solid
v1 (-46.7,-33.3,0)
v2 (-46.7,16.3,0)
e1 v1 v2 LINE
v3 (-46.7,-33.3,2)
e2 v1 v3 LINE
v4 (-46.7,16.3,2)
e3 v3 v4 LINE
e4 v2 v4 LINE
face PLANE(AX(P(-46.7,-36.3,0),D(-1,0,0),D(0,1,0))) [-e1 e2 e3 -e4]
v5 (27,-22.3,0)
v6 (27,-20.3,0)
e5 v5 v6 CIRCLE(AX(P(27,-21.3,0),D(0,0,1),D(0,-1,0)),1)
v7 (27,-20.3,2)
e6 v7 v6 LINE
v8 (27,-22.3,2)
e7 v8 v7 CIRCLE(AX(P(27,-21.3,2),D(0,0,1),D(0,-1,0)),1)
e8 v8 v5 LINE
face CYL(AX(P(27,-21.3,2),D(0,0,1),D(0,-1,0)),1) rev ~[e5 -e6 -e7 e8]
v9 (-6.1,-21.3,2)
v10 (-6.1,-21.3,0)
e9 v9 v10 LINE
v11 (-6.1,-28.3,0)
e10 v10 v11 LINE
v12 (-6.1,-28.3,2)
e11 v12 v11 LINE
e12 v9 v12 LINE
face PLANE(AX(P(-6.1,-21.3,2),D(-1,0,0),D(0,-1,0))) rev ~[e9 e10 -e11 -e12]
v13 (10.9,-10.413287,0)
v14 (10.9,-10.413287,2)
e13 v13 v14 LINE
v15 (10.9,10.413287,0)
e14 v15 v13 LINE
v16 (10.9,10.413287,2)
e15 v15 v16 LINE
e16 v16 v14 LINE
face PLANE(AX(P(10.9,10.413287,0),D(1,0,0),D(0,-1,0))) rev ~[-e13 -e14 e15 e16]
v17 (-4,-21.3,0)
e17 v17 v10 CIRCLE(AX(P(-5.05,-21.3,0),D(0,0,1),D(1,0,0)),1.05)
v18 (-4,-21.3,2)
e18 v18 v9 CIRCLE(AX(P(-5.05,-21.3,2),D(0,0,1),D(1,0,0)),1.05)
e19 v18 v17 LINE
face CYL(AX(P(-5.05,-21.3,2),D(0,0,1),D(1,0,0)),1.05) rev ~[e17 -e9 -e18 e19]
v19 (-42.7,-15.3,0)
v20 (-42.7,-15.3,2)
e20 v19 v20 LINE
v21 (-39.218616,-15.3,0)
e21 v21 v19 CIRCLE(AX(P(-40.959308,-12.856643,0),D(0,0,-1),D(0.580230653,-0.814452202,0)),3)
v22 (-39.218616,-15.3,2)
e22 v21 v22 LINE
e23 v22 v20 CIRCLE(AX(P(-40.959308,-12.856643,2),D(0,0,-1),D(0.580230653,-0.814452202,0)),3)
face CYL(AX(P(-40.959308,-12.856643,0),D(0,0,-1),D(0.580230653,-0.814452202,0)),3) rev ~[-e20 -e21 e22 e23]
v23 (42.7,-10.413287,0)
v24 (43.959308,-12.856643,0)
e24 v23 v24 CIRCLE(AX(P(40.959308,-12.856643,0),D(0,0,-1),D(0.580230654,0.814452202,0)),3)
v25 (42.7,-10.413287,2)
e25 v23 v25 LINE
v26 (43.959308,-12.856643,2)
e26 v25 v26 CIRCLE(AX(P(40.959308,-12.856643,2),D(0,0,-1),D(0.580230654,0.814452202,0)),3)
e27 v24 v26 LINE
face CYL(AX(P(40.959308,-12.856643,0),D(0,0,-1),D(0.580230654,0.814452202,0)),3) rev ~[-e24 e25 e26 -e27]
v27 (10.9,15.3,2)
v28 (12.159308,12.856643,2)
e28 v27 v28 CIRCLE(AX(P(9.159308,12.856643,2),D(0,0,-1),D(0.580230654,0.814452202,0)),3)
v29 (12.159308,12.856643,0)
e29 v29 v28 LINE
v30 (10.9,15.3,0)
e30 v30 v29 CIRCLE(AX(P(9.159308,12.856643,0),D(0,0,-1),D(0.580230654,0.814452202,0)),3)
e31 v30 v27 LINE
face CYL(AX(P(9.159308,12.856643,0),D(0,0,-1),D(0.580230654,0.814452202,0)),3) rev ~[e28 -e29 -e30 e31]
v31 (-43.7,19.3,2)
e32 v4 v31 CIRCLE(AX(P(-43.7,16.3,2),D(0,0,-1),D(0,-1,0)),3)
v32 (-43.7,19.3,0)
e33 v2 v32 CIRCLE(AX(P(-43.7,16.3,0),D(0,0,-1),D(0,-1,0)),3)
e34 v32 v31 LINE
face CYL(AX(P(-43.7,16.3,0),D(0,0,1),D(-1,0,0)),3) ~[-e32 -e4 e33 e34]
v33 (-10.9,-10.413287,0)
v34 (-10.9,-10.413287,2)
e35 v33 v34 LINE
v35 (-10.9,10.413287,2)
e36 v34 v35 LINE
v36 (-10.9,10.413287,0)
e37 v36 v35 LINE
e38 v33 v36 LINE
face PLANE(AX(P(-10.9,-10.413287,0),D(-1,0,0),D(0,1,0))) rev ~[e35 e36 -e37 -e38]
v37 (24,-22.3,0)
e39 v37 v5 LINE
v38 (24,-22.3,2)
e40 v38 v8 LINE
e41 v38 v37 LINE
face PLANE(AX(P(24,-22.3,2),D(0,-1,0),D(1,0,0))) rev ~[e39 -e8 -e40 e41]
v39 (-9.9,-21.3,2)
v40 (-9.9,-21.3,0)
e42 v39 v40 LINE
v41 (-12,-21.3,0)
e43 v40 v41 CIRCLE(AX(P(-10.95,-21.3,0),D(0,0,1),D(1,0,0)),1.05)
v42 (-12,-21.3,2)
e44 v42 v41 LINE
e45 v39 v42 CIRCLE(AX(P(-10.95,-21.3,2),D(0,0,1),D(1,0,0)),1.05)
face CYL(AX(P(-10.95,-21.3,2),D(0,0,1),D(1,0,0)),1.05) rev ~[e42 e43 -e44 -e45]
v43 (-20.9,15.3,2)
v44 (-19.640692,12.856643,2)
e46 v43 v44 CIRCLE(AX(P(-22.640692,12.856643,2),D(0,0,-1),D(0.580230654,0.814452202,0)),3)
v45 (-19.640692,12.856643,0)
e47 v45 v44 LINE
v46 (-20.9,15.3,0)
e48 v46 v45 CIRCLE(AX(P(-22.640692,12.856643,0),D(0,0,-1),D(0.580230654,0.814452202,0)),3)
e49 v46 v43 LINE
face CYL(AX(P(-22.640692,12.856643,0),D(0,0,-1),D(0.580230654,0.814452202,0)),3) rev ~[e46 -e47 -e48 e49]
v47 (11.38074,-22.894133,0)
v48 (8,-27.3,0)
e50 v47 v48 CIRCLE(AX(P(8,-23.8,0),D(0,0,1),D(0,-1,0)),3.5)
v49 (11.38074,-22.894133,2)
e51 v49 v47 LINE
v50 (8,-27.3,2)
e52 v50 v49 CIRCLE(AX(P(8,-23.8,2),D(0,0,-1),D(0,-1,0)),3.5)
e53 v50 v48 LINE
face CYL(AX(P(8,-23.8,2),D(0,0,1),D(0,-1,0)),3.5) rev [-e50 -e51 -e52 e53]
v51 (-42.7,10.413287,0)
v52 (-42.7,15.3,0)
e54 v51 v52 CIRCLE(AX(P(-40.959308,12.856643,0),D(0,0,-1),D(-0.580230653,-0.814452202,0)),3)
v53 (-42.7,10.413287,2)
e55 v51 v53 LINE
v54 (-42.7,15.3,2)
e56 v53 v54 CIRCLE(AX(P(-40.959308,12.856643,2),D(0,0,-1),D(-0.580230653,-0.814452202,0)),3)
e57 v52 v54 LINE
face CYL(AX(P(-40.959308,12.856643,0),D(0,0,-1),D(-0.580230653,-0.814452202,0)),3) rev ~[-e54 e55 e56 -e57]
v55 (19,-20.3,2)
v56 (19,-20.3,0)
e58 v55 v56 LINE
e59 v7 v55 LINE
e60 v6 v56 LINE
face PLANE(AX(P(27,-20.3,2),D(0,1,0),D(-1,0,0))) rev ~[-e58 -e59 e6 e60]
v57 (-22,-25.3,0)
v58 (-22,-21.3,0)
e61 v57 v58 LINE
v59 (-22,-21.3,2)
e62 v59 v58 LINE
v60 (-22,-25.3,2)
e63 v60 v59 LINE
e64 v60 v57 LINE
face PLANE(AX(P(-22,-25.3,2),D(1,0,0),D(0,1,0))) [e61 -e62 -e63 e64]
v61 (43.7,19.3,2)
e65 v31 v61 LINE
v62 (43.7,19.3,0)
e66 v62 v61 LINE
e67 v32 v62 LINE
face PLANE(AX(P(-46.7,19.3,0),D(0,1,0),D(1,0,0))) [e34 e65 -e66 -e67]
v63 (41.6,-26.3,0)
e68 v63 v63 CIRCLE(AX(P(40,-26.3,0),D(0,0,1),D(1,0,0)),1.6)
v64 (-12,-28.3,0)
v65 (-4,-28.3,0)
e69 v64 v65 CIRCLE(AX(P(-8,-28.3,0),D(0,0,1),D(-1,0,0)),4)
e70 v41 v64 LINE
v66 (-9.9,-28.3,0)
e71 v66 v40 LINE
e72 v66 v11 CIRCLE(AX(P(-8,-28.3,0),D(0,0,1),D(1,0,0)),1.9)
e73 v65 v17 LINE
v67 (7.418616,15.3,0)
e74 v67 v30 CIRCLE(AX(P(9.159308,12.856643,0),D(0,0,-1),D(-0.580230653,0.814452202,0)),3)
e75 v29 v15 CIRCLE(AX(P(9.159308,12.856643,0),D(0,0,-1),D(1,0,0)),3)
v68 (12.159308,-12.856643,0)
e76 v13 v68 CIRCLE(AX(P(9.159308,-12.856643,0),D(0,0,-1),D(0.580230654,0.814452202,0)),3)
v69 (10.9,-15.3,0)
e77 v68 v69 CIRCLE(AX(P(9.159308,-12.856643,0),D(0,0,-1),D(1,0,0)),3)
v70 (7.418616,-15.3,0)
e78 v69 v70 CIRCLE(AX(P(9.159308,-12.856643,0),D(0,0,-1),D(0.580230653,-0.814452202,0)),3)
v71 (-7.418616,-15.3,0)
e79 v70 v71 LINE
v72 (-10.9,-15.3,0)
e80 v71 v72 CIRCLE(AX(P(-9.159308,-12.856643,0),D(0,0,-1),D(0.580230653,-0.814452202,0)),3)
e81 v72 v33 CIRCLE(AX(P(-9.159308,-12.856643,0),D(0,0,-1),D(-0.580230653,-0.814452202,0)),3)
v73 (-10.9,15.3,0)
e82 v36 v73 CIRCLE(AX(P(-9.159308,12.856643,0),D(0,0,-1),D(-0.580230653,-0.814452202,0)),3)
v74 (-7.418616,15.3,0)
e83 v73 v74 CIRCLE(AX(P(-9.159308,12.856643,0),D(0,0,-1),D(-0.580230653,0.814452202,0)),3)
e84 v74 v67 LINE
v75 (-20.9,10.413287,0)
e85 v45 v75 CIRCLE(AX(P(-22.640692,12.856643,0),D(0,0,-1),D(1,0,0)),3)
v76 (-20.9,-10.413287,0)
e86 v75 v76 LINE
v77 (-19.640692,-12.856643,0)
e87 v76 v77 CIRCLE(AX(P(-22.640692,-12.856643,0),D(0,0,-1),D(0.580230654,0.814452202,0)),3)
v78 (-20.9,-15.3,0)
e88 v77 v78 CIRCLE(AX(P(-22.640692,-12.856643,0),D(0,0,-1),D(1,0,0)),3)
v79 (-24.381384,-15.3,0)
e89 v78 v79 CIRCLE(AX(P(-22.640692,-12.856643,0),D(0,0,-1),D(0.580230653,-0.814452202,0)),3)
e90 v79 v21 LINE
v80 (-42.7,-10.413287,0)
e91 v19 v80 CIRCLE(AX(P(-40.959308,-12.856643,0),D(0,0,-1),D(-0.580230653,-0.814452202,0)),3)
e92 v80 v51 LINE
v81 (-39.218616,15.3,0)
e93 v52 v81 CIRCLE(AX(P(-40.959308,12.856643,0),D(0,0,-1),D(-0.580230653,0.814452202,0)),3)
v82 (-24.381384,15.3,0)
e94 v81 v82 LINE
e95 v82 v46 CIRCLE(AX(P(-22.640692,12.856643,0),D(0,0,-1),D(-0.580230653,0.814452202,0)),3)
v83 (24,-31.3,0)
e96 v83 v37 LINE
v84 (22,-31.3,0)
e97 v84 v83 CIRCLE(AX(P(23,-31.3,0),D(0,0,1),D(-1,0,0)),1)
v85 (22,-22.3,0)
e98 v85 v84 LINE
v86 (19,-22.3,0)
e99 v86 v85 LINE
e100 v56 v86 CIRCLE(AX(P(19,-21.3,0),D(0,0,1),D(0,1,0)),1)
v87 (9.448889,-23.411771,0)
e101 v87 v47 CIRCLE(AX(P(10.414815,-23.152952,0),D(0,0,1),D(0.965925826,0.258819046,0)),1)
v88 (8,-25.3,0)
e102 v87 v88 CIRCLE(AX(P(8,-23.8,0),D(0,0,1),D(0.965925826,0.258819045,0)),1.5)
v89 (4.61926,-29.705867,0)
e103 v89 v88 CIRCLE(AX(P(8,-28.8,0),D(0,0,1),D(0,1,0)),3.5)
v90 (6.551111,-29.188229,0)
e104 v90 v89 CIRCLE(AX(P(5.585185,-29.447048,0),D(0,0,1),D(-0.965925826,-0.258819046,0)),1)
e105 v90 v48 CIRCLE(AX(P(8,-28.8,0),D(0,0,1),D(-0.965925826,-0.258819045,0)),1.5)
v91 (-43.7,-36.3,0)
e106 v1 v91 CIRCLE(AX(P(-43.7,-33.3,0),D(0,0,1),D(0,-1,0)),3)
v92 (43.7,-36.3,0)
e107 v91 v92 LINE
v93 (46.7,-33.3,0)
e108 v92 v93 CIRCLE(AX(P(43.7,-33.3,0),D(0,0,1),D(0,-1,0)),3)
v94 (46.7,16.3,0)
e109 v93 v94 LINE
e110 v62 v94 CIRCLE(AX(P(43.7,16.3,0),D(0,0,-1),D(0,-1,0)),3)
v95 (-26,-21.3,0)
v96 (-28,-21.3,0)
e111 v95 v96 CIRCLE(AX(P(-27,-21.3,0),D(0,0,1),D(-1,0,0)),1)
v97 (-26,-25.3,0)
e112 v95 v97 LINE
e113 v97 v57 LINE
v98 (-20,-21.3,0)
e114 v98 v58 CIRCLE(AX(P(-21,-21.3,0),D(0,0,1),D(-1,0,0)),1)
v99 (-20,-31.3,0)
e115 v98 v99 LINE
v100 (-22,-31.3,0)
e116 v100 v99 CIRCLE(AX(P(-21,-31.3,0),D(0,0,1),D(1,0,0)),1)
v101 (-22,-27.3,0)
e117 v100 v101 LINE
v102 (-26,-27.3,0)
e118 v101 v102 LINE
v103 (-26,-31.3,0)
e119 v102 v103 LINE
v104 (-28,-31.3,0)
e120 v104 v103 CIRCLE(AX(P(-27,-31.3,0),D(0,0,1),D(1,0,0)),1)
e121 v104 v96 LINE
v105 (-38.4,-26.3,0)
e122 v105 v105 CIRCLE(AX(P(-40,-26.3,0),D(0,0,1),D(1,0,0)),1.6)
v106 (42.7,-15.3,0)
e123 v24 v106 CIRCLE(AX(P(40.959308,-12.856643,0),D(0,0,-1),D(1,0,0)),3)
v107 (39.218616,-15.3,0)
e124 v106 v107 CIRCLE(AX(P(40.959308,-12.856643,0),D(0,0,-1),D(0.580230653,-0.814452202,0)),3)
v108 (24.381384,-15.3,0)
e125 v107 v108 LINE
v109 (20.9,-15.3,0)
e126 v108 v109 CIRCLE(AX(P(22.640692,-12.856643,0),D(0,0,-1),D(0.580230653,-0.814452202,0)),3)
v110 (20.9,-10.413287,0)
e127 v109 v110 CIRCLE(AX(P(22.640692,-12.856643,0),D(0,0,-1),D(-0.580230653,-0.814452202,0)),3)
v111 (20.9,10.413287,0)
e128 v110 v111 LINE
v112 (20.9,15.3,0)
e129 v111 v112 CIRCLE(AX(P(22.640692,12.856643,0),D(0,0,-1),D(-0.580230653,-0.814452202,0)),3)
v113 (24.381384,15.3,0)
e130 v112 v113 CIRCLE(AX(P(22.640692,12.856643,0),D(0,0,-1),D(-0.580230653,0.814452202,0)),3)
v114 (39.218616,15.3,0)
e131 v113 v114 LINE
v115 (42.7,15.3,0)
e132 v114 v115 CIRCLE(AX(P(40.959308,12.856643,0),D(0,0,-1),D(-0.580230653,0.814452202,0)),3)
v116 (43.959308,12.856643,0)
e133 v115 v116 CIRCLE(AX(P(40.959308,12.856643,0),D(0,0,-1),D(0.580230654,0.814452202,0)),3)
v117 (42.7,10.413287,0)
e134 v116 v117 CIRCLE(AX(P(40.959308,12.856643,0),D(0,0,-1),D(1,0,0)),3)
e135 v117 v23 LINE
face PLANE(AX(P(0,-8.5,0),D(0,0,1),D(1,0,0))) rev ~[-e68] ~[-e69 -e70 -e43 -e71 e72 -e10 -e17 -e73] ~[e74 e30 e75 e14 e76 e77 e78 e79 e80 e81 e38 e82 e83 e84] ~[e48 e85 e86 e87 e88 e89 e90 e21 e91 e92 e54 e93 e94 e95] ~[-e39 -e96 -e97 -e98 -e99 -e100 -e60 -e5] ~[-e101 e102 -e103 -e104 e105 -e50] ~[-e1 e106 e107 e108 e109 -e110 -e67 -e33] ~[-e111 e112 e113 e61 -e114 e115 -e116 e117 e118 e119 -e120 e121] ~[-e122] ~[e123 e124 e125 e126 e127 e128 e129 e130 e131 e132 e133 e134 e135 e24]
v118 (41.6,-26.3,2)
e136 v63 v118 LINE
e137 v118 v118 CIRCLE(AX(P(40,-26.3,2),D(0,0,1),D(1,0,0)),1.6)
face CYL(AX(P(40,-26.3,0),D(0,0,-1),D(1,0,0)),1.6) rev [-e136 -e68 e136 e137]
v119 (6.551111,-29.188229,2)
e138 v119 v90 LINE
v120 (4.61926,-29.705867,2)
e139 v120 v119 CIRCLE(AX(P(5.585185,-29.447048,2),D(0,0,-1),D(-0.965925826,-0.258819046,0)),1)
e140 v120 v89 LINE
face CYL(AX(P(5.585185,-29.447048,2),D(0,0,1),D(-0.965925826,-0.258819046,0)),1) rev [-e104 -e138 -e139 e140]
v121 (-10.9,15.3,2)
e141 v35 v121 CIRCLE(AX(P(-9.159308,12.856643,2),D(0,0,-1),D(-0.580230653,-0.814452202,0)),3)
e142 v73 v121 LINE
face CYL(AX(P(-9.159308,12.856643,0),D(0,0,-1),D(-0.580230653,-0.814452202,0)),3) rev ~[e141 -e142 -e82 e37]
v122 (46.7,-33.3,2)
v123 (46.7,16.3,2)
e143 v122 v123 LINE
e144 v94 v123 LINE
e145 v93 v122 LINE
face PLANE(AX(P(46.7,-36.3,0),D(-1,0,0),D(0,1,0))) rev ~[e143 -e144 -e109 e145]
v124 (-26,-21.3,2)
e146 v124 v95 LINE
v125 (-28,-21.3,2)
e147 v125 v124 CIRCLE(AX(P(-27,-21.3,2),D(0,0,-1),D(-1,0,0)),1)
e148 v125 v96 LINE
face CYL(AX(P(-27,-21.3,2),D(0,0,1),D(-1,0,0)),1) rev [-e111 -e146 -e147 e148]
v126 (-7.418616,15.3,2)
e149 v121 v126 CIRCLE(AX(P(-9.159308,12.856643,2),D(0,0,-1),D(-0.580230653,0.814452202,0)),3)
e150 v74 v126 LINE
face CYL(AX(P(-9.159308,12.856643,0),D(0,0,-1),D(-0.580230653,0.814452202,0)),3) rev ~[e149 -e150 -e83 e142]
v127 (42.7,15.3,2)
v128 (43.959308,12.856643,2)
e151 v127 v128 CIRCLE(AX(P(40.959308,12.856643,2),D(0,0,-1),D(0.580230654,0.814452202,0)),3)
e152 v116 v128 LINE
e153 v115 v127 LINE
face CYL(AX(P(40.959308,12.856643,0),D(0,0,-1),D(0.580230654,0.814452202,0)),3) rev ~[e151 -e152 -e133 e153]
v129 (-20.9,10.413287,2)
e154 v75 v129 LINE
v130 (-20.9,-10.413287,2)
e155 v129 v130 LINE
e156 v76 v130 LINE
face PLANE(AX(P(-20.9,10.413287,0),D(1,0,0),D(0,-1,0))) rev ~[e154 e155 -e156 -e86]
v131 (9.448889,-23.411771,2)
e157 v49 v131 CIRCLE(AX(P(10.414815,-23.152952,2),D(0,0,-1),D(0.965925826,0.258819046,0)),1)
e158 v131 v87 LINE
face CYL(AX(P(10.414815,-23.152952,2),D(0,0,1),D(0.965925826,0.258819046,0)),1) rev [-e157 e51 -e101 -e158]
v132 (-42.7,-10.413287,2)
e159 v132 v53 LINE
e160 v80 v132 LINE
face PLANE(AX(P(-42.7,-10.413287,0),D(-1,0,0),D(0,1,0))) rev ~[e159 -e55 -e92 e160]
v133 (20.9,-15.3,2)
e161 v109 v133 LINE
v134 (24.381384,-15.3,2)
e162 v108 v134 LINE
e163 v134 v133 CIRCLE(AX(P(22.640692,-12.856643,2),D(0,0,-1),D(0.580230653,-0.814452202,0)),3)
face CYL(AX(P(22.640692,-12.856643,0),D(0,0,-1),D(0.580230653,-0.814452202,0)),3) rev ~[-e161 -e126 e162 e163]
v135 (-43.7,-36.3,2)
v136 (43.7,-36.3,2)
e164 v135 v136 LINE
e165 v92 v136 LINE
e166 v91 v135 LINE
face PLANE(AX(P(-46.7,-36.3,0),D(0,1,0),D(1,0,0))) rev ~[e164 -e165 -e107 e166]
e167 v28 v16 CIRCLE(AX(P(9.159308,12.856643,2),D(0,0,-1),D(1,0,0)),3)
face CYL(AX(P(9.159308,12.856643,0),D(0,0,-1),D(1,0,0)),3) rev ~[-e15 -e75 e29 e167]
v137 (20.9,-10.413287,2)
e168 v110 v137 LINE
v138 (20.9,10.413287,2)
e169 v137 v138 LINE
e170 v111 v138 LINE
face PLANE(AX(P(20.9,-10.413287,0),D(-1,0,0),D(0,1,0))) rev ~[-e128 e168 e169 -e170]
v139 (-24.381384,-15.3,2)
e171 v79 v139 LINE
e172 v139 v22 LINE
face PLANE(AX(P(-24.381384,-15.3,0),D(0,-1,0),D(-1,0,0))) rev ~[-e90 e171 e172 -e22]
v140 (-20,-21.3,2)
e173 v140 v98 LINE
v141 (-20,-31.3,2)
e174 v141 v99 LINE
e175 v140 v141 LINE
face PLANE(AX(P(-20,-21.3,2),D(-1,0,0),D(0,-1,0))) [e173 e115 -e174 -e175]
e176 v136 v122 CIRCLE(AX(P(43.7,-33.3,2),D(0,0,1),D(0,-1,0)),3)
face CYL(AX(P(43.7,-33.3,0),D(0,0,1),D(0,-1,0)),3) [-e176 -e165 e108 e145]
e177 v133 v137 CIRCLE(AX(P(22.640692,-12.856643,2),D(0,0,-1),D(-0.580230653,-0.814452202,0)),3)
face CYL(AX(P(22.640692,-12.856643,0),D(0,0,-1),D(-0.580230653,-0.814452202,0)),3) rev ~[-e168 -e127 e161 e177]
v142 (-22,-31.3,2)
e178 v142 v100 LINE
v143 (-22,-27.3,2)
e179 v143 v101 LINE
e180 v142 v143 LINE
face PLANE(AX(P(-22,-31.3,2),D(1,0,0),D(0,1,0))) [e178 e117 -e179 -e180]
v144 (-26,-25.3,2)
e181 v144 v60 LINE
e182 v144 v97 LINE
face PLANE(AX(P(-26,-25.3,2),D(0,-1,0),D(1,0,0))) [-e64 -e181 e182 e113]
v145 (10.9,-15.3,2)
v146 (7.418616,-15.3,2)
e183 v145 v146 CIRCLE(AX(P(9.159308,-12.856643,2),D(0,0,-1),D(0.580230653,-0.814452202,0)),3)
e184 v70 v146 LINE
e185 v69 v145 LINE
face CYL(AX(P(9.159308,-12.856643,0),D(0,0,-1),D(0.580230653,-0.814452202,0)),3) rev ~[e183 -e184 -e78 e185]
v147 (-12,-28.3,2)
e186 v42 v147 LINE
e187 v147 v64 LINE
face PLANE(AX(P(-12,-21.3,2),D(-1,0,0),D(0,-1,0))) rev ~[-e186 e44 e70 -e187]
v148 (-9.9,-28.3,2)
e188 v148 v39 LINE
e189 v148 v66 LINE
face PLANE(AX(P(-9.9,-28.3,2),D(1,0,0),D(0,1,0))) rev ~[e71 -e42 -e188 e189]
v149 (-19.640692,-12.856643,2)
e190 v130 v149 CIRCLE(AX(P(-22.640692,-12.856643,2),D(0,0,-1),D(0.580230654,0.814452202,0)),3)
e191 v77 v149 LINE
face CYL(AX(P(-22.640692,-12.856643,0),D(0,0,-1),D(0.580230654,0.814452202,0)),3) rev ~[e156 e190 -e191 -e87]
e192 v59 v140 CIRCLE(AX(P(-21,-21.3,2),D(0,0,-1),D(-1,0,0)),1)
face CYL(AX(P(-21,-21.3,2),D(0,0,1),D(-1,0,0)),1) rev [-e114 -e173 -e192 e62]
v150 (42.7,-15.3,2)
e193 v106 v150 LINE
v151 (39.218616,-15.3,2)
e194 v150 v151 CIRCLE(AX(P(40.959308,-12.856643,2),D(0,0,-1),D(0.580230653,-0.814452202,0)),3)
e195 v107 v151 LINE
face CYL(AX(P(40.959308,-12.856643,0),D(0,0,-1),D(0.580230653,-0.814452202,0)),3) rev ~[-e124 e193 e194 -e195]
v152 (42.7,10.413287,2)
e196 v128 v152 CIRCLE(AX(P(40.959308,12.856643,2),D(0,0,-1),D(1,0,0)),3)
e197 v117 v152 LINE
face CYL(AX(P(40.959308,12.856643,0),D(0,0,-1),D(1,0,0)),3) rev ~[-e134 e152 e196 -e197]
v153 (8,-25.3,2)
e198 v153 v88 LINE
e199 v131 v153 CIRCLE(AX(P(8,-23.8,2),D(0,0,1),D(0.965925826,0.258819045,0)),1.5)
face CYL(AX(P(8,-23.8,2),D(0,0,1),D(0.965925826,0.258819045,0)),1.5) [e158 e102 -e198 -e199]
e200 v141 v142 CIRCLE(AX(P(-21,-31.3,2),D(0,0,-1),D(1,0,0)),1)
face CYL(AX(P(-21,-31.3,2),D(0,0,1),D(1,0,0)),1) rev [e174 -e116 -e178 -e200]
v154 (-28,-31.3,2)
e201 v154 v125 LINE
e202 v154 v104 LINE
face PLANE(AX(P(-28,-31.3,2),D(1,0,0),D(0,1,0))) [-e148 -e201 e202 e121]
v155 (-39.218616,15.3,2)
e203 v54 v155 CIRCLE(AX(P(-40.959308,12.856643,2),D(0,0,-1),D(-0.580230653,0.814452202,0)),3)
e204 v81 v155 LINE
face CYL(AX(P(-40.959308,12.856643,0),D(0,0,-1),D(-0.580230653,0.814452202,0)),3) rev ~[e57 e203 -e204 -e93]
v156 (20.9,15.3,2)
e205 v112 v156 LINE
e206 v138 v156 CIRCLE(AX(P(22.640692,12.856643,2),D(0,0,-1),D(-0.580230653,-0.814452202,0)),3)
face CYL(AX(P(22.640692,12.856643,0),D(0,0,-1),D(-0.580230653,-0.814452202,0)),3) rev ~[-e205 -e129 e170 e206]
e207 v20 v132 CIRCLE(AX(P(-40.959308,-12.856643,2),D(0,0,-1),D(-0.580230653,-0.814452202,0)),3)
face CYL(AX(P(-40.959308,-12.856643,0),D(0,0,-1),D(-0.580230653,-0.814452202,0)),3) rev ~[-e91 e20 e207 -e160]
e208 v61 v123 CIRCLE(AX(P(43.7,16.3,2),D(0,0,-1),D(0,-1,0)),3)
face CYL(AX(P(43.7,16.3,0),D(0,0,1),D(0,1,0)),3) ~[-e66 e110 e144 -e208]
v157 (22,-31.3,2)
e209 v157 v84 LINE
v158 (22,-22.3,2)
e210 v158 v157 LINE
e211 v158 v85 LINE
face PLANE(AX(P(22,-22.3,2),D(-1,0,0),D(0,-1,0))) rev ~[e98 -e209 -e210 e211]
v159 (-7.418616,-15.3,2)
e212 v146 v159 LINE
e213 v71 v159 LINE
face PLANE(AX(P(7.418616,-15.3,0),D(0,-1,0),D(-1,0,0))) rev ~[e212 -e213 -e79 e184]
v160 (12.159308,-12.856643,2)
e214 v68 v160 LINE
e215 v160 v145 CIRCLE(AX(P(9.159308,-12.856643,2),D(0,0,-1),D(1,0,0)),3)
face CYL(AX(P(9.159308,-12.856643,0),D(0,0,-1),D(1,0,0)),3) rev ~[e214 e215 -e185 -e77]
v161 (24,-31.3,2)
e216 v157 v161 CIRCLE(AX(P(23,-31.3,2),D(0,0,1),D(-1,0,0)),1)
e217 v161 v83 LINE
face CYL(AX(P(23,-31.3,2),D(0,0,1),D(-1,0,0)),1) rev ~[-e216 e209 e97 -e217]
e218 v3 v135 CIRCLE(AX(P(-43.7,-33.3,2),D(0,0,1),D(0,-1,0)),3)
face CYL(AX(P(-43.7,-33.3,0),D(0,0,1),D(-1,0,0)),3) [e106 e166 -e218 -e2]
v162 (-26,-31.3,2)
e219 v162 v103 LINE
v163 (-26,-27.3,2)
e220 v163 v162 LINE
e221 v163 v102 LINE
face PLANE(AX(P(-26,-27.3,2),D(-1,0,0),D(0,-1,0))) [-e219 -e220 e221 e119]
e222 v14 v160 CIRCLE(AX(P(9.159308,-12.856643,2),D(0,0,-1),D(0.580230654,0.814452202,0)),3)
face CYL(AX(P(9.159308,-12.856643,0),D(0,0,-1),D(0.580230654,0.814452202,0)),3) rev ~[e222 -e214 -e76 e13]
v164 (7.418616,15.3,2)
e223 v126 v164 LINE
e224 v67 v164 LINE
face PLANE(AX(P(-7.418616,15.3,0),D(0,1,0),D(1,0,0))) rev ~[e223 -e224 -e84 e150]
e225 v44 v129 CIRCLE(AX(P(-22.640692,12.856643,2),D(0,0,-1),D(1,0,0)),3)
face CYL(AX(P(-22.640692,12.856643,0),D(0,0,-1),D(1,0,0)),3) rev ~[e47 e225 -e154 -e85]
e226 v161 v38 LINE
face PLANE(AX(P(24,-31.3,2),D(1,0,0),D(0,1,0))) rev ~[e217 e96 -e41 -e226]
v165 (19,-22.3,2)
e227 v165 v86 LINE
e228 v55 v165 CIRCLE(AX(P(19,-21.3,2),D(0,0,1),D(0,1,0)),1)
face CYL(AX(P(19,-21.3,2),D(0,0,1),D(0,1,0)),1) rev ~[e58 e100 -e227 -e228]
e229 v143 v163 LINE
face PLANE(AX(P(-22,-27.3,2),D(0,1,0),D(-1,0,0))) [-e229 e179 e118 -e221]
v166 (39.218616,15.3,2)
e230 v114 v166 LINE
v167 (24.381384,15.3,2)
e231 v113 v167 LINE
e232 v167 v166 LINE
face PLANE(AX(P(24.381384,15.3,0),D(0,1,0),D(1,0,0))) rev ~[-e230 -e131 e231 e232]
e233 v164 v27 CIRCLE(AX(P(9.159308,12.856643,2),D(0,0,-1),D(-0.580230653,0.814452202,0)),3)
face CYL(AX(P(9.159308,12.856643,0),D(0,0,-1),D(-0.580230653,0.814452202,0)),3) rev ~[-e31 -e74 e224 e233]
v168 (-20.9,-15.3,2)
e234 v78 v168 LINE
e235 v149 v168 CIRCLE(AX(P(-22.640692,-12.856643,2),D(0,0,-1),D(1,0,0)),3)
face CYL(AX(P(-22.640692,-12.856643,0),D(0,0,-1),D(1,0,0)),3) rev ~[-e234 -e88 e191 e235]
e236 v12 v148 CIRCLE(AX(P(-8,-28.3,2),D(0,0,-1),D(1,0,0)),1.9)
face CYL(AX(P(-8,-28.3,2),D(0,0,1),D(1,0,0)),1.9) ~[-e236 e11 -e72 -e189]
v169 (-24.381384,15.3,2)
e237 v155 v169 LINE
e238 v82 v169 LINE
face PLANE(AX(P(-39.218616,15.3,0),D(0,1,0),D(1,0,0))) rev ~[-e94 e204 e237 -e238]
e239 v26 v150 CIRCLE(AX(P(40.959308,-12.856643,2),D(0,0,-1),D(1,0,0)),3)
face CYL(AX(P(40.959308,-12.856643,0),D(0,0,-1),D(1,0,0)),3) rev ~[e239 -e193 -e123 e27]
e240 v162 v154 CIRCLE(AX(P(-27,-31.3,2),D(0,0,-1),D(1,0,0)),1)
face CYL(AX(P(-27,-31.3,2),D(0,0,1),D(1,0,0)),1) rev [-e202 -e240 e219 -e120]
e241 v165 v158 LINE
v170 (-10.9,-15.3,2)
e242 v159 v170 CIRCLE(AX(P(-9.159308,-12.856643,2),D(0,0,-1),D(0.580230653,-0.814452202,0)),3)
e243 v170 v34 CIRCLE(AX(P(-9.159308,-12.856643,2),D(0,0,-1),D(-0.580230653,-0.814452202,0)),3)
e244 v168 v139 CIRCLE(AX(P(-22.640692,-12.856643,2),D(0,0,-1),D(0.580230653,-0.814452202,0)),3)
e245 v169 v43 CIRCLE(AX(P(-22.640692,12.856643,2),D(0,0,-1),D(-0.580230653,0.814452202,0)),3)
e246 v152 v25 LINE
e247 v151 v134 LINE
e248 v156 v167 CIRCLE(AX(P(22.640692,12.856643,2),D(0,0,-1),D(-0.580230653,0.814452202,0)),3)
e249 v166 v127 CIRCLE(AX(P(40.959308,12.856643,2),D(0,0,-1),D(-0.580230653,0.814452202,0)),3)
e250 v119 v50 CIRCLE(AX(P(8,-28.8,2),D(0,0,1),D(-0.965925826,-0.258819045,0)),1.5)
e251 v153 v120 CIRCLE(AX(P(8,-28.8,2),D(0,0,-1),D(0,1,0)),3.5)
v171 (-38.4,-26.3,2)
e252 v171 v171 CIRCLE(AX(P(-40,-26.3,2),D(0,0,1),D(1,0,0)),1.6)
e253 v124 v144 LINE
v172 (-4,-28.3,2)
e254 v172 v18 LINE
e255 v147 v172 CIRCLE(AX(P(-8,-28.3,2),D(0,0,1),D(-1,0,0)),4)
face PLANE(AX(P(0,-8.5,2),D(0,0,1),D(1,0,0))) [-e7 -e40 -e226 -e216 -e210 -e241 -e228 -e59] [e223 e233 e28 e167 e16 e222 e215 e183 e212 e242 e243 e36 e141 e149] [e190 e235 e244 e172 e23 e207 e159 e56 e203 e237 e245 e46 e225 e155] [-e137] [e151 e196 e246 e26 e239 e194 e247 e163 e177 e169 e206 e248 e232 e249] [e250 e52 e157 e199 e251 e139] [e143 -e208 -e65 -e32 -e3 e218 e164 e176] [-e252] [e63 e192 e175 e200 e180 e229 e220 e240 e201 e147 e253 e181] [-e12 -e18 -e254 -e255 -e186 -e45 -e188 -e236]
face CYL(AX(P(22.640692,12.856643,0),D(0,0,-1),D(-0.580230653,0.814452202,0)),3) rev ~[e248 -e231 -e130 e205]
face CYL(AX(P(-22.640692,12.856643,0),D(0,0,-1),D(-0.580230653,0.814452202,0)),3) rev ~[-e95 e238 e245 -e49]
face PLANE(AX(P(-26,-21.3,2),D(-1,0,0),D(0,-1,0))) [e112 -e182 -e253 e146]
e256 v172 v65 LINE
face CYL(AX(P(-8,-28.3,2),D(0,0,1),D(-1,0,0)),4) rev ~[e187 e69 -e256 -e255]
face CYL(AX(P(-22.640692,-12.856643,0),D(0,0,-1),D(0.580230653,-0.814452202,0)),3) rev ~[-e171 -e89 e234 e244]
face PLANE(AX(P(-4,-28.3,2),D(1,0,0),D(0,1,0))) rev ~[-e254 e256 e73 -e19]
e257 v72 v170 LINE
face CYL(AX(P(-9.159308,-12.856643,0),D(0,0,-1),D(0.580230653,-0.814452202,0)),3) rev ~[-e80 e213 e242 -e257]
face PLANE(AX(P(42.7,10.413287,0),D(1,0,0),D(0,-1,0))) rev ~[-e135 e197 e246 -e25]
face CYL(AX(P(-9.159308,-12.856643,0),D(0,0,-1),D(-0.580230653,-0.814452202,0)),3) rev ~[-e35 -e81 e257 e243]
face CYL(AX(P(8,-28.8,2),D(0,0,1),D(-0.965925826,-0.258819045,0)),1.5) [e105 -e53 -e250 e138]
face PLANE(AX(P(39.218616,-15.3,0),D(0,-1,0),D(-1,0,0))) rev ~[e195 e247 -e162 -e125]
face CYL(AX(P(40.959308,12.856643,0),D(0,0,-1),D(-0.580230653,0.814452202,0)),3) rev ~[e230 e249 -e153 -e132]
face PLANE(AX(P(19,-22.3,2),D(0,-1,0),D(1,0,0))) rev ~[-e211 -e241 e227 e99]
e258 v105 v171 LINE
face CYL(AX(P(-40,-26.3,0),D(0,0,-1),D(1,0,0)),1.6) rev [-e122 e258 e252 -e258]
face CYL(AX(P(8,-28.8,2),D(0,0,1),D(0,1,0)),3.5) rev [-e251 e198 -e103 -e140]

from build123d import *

# Parameters (mm, degrees)
SKETCH_1_W          = 93.4
SKETCH_1_H          = 55.6
SKETCH_1_R          = 1.6
EXTRUDE_1_DEPTH     = 2
CUT_EXTRUDE_1_DEPTH = 60.182598794
FILLET_1_R          = 3


with BuildPart() as part:
    # 草图1 → 凸台-拉伸1 (new body)
    with BuildSketch(Plane.XY):
        with Locations((0, -8.5)):
            Rectangle(SKETCH_1_W, SKETCH_1_H)
        with Locations((-40, -26.3)):
            Circle(SKETCH_1_R, mode=Mode.SUBTRACT)
        with Locations((40, -26.3)):
            Circle(SKETCH_1_R, mode=Mode.SUBTRACT)
        with BuildLine():
            ThreePointArc((-42.7, 10.41328679), (-43.95930804, 12.856643395), (-42.7, 15.3))
            ThreePointArc((-42.7, 15.3), (-40.95930804, 15.856643395), (-39.218616079, 15.3))
            Line((-39.218616079, 15.3), (-24.381383921, 15.3))
            ThreePointArc((-24.381383921, 15.3), (-22.64069196, 15.856643395), (-20.9, 15.3))
            ThreePointArc((-20.9, 15.3), (-19.974039013, 14.231038556), (-19.64069196, 12.856643395))
            ThreePointArc((-19.64069196, 12.856643395), (-19.974039013, 11.482248234), (-20.9, 10.41328679))
            Line((-20.9, 10.41328679), (-20.9, -10.41328679))
            ThreePointArc((-20.9, -10.41328679), (-19.974039013, -11.482248234), (-19.64069196, -12.856643395))
            ThreePointArc((-19.64069196, -12.856643395), (-19.974039013, -14.231038556), (-20.9, -15.3))
            ThreePointArc((-20.9, -15.3), (-22.64069196, -15.856643395), (-24.381383921, -15.3))
            Line((-24.381383921, -15.3), (-39.218616079, -15.3))
            ThreePointArc((-39.218616079, -15.3), (-40.95930804, -15.856643395), (-42.7, -15.3))
            ThreePointArc((-42.7, -15.3), (-43.95930804, -12.856643395), (-42.7, -10.41328679))
            Line((-42.7, -10.41328679), (-42.7, 10.41328679))
        make_face(mode=Mode.SUBTRACT)
        with BuildLine():
            ThreePointArc((-10.9, 10.41328679), (-12.15930804, 12.856643395), (-10.9, 15.3))
            ThreePointArc((-10.9, 15.3), (-9.15930804, 15.856643395), (-7.418616079, 15.3))
            Line((-7.418616079, 15.3), (7.418616079, 15.3))
            ThreePointArc((7.418616079, 15.3), (9.15930804, 15.856643395), (10.9, 15.3))
            ThreePointArc((10.9, 15.3), (11.825960987, 14.231038556), (12.15930804, 12.856643395))
            ThreePointArc((12.15930804, 12.856643395), (11.825960987, 11.482248234), (10.9, 10.41328679))
            Line((10.9, 10.41328679), (10.9, -10.41328679))
            ThreePointArc((10.9, -10.41328679), (11.825960987, -11.482248234), (12.15930804, -12.856643395))
            ThreePointArc((12.15930804, -12.856643395), (11.825960987, -14.231038556), (10.9, -15.3))
            ThreePointArc((10.9, -15.3), (9.15930804, -15.856643395), (7.418616079, -15.3))
            Line((7.418616079, -15.3), (-7.418616079, -15.3))
            ThreePointArc((-7.418616079, -15.3), (-9.15930804, -15.856643395), (-10.9, -15.3))
            ThreePointArc((-10.9, -15.3), (-12.15930804, -12.856643395), (-10.9, -10.41328679))
            Line((-10.9, -10.41328679), (-10.9, 10.41328679))
        make_face(mode=Mode.SUBTRACT)
        with BuildLine():
            ThreePointArc((20.9, 10.41328679), (19.64069196, 12.856643395), (20.9, 15.3))
            ThreePointArc((20.9, 15.3), (22.64069196, 15.856643395), (24.381383921, 15.3))
            Line((24.381383921, 15.3), (39.218616079, 15.3))
            ThreePointArc((39.218616079, 15.3), (40.95930804, 15.856643395), (42.7, 15.3))
            ThreePointArc((42.7, 15.3), (43.625960987, 14.231038556), (43.95930804, 12.856643395))
            ThreePointArc((43.95930804, 12.856643395), (43.625960987, 11.482248234), (42.7, 10.41328679))
            Line((42.7, 10.41328679), (42.7, -10.41328679))
            ThreePointArc((42.7, -10.41328679), (43.625960987, -11.482248234), (43.95930804, -12.856643395))
            ThreePointArc((43.95930804, -12.856643395), (43.625960987, -14.231038556), (42.7, -15.3))
            ThreePointArc((42.7, -15.3), (40.95930804, -15.856643395), (39.218616079, -15.3))
            Line((39.218616079, -15.3), (24.381383921, -15.3))
            ThreePointArc((24.381383921, -15.3), (22.64069196, -15.856643395), (20.9, -15.3))
            ThreePointArc((20.9, -15.3), (19.64069196, -12.856643395), (20.9, -10.41328679))
            Line((20.9, -10.41328679), (20.9, 10.41328679))
        make_face(mode=Mode.SUBTRACT)
    extrude(amount=EXTRUDE_1_DEPTH)

    # 草图2 → 切除-拉伸1 (cut, through all)
    with BuildSketch(Plane.XY.offset(2)):
        with BuildLine():
            Line((-28, -31.3), (-28, -21.3))
            ThreePointArc((-28, -21.3), (-27, -20.3), (-26, -21.3))
            Line((-26, -21.3), (-26, -25.3))
            Line((-26, -25.3), (-22, -25.3))
            Line((-22, -25.3), (-22, -21.3))
            ThreePointArc((-22, -21.3), (-21, -20.3), (-20, -21.3))
            Line((-20, -21.3), (-20, -31.3))
            ThreePointArc((-20, -31.3), (-21, -32.3), (-22, -31.3))
            Line((-22, -31.3), (-22, -27.3))
            Line((-22, -27.3), (-26, -27.3))
            Line((-26, -27.3), (-26, -31.3))
            ThreePointArc((-26, -31.3), (-27, -32.3), (-28, -31.3))
        make_face()
        with BuildLine():
            Line((-12, -21.3), (-12, -28.3))
            ThreePointArc((-12, -28.3), (-8, -32.3), (-4, -28.3))
            Line((-4, -28.3), (-4, -21.3))
            ThreePointArc((-4, -21.3), (-5.05, -20.25), (-6.1, -21.3))
            Line((-6.1, -21.3), (-6.1, -28.3))
            ThreePointArc((-6.1, -28.3), (-8, -30.2), (-9.9, -28.3))
            Line((-9.9, -28.3), (-9.9, -21.3))
            ThreePointArc((-9.9, -21.3), (-10.95, -20.25), (-12, -21.3))
        make_face()
        with BuildLine():
            Line((19, -22.3), (22, -22.3))
            Line((22, -22.3), (22, -31.3))
            ThreePointArc((22, -31.3), (23, -32.3), (24, -31.3))
            Line((24, -31.3), (24, -22.3))
            Line((24, -22.3), (27, -22.3))
            ThreePointArc((27, -22.3), (28, -21.3), (27, -20.3))
            Line((27, -20.3), (19, -20.3))
            ThreePointArc((19, -20.3), (18, -21.3), (19, -22.3))
        make_face()
        with BuildLine():
            ThreePointArc((8, -25.3), (10.776736691, -30.930665002), (4.619259608, -29.705866658))
            ThreePointArc((4.619259608, -29.705866658), (5.326366389, -28.481121786), (6.551111261, -29.188228568))
            ThreePointArc((6.551111261, -29.188228568), (9.19003001, -29.713142144), (8, -27.3))
            ThreePointArc((8, -27.3), (5.223263309, -21.669334998), (11.380740392, -22.894133342))
            ThreePointArc((11.380740392, -22.894133342), (10.673633611, -24.118878214), (9.448888739, -23.411771432))
            ThreePointArc((9.448888739, -23.411771432), (6.80996999, -22.886857856), (8, -25.3))
        make_face()
    extrude(amount=-CUT_EXTRUDE_1_DEPTH, mode=Mode.SUBTRACT)

    # 圆角1
    fillet_1_edges = [part.edges().sort_by_distance(p)[0] for p in [
        (-46.7, -36.3, 1),
        (-46.7, 19.3, 1),
        (46.7, 19.3, 1),
        (46.7, -36.3, 1),
    ]]
    fillet(fillet_1_edges, radius=FILLET_1_R)


solid = part.part
